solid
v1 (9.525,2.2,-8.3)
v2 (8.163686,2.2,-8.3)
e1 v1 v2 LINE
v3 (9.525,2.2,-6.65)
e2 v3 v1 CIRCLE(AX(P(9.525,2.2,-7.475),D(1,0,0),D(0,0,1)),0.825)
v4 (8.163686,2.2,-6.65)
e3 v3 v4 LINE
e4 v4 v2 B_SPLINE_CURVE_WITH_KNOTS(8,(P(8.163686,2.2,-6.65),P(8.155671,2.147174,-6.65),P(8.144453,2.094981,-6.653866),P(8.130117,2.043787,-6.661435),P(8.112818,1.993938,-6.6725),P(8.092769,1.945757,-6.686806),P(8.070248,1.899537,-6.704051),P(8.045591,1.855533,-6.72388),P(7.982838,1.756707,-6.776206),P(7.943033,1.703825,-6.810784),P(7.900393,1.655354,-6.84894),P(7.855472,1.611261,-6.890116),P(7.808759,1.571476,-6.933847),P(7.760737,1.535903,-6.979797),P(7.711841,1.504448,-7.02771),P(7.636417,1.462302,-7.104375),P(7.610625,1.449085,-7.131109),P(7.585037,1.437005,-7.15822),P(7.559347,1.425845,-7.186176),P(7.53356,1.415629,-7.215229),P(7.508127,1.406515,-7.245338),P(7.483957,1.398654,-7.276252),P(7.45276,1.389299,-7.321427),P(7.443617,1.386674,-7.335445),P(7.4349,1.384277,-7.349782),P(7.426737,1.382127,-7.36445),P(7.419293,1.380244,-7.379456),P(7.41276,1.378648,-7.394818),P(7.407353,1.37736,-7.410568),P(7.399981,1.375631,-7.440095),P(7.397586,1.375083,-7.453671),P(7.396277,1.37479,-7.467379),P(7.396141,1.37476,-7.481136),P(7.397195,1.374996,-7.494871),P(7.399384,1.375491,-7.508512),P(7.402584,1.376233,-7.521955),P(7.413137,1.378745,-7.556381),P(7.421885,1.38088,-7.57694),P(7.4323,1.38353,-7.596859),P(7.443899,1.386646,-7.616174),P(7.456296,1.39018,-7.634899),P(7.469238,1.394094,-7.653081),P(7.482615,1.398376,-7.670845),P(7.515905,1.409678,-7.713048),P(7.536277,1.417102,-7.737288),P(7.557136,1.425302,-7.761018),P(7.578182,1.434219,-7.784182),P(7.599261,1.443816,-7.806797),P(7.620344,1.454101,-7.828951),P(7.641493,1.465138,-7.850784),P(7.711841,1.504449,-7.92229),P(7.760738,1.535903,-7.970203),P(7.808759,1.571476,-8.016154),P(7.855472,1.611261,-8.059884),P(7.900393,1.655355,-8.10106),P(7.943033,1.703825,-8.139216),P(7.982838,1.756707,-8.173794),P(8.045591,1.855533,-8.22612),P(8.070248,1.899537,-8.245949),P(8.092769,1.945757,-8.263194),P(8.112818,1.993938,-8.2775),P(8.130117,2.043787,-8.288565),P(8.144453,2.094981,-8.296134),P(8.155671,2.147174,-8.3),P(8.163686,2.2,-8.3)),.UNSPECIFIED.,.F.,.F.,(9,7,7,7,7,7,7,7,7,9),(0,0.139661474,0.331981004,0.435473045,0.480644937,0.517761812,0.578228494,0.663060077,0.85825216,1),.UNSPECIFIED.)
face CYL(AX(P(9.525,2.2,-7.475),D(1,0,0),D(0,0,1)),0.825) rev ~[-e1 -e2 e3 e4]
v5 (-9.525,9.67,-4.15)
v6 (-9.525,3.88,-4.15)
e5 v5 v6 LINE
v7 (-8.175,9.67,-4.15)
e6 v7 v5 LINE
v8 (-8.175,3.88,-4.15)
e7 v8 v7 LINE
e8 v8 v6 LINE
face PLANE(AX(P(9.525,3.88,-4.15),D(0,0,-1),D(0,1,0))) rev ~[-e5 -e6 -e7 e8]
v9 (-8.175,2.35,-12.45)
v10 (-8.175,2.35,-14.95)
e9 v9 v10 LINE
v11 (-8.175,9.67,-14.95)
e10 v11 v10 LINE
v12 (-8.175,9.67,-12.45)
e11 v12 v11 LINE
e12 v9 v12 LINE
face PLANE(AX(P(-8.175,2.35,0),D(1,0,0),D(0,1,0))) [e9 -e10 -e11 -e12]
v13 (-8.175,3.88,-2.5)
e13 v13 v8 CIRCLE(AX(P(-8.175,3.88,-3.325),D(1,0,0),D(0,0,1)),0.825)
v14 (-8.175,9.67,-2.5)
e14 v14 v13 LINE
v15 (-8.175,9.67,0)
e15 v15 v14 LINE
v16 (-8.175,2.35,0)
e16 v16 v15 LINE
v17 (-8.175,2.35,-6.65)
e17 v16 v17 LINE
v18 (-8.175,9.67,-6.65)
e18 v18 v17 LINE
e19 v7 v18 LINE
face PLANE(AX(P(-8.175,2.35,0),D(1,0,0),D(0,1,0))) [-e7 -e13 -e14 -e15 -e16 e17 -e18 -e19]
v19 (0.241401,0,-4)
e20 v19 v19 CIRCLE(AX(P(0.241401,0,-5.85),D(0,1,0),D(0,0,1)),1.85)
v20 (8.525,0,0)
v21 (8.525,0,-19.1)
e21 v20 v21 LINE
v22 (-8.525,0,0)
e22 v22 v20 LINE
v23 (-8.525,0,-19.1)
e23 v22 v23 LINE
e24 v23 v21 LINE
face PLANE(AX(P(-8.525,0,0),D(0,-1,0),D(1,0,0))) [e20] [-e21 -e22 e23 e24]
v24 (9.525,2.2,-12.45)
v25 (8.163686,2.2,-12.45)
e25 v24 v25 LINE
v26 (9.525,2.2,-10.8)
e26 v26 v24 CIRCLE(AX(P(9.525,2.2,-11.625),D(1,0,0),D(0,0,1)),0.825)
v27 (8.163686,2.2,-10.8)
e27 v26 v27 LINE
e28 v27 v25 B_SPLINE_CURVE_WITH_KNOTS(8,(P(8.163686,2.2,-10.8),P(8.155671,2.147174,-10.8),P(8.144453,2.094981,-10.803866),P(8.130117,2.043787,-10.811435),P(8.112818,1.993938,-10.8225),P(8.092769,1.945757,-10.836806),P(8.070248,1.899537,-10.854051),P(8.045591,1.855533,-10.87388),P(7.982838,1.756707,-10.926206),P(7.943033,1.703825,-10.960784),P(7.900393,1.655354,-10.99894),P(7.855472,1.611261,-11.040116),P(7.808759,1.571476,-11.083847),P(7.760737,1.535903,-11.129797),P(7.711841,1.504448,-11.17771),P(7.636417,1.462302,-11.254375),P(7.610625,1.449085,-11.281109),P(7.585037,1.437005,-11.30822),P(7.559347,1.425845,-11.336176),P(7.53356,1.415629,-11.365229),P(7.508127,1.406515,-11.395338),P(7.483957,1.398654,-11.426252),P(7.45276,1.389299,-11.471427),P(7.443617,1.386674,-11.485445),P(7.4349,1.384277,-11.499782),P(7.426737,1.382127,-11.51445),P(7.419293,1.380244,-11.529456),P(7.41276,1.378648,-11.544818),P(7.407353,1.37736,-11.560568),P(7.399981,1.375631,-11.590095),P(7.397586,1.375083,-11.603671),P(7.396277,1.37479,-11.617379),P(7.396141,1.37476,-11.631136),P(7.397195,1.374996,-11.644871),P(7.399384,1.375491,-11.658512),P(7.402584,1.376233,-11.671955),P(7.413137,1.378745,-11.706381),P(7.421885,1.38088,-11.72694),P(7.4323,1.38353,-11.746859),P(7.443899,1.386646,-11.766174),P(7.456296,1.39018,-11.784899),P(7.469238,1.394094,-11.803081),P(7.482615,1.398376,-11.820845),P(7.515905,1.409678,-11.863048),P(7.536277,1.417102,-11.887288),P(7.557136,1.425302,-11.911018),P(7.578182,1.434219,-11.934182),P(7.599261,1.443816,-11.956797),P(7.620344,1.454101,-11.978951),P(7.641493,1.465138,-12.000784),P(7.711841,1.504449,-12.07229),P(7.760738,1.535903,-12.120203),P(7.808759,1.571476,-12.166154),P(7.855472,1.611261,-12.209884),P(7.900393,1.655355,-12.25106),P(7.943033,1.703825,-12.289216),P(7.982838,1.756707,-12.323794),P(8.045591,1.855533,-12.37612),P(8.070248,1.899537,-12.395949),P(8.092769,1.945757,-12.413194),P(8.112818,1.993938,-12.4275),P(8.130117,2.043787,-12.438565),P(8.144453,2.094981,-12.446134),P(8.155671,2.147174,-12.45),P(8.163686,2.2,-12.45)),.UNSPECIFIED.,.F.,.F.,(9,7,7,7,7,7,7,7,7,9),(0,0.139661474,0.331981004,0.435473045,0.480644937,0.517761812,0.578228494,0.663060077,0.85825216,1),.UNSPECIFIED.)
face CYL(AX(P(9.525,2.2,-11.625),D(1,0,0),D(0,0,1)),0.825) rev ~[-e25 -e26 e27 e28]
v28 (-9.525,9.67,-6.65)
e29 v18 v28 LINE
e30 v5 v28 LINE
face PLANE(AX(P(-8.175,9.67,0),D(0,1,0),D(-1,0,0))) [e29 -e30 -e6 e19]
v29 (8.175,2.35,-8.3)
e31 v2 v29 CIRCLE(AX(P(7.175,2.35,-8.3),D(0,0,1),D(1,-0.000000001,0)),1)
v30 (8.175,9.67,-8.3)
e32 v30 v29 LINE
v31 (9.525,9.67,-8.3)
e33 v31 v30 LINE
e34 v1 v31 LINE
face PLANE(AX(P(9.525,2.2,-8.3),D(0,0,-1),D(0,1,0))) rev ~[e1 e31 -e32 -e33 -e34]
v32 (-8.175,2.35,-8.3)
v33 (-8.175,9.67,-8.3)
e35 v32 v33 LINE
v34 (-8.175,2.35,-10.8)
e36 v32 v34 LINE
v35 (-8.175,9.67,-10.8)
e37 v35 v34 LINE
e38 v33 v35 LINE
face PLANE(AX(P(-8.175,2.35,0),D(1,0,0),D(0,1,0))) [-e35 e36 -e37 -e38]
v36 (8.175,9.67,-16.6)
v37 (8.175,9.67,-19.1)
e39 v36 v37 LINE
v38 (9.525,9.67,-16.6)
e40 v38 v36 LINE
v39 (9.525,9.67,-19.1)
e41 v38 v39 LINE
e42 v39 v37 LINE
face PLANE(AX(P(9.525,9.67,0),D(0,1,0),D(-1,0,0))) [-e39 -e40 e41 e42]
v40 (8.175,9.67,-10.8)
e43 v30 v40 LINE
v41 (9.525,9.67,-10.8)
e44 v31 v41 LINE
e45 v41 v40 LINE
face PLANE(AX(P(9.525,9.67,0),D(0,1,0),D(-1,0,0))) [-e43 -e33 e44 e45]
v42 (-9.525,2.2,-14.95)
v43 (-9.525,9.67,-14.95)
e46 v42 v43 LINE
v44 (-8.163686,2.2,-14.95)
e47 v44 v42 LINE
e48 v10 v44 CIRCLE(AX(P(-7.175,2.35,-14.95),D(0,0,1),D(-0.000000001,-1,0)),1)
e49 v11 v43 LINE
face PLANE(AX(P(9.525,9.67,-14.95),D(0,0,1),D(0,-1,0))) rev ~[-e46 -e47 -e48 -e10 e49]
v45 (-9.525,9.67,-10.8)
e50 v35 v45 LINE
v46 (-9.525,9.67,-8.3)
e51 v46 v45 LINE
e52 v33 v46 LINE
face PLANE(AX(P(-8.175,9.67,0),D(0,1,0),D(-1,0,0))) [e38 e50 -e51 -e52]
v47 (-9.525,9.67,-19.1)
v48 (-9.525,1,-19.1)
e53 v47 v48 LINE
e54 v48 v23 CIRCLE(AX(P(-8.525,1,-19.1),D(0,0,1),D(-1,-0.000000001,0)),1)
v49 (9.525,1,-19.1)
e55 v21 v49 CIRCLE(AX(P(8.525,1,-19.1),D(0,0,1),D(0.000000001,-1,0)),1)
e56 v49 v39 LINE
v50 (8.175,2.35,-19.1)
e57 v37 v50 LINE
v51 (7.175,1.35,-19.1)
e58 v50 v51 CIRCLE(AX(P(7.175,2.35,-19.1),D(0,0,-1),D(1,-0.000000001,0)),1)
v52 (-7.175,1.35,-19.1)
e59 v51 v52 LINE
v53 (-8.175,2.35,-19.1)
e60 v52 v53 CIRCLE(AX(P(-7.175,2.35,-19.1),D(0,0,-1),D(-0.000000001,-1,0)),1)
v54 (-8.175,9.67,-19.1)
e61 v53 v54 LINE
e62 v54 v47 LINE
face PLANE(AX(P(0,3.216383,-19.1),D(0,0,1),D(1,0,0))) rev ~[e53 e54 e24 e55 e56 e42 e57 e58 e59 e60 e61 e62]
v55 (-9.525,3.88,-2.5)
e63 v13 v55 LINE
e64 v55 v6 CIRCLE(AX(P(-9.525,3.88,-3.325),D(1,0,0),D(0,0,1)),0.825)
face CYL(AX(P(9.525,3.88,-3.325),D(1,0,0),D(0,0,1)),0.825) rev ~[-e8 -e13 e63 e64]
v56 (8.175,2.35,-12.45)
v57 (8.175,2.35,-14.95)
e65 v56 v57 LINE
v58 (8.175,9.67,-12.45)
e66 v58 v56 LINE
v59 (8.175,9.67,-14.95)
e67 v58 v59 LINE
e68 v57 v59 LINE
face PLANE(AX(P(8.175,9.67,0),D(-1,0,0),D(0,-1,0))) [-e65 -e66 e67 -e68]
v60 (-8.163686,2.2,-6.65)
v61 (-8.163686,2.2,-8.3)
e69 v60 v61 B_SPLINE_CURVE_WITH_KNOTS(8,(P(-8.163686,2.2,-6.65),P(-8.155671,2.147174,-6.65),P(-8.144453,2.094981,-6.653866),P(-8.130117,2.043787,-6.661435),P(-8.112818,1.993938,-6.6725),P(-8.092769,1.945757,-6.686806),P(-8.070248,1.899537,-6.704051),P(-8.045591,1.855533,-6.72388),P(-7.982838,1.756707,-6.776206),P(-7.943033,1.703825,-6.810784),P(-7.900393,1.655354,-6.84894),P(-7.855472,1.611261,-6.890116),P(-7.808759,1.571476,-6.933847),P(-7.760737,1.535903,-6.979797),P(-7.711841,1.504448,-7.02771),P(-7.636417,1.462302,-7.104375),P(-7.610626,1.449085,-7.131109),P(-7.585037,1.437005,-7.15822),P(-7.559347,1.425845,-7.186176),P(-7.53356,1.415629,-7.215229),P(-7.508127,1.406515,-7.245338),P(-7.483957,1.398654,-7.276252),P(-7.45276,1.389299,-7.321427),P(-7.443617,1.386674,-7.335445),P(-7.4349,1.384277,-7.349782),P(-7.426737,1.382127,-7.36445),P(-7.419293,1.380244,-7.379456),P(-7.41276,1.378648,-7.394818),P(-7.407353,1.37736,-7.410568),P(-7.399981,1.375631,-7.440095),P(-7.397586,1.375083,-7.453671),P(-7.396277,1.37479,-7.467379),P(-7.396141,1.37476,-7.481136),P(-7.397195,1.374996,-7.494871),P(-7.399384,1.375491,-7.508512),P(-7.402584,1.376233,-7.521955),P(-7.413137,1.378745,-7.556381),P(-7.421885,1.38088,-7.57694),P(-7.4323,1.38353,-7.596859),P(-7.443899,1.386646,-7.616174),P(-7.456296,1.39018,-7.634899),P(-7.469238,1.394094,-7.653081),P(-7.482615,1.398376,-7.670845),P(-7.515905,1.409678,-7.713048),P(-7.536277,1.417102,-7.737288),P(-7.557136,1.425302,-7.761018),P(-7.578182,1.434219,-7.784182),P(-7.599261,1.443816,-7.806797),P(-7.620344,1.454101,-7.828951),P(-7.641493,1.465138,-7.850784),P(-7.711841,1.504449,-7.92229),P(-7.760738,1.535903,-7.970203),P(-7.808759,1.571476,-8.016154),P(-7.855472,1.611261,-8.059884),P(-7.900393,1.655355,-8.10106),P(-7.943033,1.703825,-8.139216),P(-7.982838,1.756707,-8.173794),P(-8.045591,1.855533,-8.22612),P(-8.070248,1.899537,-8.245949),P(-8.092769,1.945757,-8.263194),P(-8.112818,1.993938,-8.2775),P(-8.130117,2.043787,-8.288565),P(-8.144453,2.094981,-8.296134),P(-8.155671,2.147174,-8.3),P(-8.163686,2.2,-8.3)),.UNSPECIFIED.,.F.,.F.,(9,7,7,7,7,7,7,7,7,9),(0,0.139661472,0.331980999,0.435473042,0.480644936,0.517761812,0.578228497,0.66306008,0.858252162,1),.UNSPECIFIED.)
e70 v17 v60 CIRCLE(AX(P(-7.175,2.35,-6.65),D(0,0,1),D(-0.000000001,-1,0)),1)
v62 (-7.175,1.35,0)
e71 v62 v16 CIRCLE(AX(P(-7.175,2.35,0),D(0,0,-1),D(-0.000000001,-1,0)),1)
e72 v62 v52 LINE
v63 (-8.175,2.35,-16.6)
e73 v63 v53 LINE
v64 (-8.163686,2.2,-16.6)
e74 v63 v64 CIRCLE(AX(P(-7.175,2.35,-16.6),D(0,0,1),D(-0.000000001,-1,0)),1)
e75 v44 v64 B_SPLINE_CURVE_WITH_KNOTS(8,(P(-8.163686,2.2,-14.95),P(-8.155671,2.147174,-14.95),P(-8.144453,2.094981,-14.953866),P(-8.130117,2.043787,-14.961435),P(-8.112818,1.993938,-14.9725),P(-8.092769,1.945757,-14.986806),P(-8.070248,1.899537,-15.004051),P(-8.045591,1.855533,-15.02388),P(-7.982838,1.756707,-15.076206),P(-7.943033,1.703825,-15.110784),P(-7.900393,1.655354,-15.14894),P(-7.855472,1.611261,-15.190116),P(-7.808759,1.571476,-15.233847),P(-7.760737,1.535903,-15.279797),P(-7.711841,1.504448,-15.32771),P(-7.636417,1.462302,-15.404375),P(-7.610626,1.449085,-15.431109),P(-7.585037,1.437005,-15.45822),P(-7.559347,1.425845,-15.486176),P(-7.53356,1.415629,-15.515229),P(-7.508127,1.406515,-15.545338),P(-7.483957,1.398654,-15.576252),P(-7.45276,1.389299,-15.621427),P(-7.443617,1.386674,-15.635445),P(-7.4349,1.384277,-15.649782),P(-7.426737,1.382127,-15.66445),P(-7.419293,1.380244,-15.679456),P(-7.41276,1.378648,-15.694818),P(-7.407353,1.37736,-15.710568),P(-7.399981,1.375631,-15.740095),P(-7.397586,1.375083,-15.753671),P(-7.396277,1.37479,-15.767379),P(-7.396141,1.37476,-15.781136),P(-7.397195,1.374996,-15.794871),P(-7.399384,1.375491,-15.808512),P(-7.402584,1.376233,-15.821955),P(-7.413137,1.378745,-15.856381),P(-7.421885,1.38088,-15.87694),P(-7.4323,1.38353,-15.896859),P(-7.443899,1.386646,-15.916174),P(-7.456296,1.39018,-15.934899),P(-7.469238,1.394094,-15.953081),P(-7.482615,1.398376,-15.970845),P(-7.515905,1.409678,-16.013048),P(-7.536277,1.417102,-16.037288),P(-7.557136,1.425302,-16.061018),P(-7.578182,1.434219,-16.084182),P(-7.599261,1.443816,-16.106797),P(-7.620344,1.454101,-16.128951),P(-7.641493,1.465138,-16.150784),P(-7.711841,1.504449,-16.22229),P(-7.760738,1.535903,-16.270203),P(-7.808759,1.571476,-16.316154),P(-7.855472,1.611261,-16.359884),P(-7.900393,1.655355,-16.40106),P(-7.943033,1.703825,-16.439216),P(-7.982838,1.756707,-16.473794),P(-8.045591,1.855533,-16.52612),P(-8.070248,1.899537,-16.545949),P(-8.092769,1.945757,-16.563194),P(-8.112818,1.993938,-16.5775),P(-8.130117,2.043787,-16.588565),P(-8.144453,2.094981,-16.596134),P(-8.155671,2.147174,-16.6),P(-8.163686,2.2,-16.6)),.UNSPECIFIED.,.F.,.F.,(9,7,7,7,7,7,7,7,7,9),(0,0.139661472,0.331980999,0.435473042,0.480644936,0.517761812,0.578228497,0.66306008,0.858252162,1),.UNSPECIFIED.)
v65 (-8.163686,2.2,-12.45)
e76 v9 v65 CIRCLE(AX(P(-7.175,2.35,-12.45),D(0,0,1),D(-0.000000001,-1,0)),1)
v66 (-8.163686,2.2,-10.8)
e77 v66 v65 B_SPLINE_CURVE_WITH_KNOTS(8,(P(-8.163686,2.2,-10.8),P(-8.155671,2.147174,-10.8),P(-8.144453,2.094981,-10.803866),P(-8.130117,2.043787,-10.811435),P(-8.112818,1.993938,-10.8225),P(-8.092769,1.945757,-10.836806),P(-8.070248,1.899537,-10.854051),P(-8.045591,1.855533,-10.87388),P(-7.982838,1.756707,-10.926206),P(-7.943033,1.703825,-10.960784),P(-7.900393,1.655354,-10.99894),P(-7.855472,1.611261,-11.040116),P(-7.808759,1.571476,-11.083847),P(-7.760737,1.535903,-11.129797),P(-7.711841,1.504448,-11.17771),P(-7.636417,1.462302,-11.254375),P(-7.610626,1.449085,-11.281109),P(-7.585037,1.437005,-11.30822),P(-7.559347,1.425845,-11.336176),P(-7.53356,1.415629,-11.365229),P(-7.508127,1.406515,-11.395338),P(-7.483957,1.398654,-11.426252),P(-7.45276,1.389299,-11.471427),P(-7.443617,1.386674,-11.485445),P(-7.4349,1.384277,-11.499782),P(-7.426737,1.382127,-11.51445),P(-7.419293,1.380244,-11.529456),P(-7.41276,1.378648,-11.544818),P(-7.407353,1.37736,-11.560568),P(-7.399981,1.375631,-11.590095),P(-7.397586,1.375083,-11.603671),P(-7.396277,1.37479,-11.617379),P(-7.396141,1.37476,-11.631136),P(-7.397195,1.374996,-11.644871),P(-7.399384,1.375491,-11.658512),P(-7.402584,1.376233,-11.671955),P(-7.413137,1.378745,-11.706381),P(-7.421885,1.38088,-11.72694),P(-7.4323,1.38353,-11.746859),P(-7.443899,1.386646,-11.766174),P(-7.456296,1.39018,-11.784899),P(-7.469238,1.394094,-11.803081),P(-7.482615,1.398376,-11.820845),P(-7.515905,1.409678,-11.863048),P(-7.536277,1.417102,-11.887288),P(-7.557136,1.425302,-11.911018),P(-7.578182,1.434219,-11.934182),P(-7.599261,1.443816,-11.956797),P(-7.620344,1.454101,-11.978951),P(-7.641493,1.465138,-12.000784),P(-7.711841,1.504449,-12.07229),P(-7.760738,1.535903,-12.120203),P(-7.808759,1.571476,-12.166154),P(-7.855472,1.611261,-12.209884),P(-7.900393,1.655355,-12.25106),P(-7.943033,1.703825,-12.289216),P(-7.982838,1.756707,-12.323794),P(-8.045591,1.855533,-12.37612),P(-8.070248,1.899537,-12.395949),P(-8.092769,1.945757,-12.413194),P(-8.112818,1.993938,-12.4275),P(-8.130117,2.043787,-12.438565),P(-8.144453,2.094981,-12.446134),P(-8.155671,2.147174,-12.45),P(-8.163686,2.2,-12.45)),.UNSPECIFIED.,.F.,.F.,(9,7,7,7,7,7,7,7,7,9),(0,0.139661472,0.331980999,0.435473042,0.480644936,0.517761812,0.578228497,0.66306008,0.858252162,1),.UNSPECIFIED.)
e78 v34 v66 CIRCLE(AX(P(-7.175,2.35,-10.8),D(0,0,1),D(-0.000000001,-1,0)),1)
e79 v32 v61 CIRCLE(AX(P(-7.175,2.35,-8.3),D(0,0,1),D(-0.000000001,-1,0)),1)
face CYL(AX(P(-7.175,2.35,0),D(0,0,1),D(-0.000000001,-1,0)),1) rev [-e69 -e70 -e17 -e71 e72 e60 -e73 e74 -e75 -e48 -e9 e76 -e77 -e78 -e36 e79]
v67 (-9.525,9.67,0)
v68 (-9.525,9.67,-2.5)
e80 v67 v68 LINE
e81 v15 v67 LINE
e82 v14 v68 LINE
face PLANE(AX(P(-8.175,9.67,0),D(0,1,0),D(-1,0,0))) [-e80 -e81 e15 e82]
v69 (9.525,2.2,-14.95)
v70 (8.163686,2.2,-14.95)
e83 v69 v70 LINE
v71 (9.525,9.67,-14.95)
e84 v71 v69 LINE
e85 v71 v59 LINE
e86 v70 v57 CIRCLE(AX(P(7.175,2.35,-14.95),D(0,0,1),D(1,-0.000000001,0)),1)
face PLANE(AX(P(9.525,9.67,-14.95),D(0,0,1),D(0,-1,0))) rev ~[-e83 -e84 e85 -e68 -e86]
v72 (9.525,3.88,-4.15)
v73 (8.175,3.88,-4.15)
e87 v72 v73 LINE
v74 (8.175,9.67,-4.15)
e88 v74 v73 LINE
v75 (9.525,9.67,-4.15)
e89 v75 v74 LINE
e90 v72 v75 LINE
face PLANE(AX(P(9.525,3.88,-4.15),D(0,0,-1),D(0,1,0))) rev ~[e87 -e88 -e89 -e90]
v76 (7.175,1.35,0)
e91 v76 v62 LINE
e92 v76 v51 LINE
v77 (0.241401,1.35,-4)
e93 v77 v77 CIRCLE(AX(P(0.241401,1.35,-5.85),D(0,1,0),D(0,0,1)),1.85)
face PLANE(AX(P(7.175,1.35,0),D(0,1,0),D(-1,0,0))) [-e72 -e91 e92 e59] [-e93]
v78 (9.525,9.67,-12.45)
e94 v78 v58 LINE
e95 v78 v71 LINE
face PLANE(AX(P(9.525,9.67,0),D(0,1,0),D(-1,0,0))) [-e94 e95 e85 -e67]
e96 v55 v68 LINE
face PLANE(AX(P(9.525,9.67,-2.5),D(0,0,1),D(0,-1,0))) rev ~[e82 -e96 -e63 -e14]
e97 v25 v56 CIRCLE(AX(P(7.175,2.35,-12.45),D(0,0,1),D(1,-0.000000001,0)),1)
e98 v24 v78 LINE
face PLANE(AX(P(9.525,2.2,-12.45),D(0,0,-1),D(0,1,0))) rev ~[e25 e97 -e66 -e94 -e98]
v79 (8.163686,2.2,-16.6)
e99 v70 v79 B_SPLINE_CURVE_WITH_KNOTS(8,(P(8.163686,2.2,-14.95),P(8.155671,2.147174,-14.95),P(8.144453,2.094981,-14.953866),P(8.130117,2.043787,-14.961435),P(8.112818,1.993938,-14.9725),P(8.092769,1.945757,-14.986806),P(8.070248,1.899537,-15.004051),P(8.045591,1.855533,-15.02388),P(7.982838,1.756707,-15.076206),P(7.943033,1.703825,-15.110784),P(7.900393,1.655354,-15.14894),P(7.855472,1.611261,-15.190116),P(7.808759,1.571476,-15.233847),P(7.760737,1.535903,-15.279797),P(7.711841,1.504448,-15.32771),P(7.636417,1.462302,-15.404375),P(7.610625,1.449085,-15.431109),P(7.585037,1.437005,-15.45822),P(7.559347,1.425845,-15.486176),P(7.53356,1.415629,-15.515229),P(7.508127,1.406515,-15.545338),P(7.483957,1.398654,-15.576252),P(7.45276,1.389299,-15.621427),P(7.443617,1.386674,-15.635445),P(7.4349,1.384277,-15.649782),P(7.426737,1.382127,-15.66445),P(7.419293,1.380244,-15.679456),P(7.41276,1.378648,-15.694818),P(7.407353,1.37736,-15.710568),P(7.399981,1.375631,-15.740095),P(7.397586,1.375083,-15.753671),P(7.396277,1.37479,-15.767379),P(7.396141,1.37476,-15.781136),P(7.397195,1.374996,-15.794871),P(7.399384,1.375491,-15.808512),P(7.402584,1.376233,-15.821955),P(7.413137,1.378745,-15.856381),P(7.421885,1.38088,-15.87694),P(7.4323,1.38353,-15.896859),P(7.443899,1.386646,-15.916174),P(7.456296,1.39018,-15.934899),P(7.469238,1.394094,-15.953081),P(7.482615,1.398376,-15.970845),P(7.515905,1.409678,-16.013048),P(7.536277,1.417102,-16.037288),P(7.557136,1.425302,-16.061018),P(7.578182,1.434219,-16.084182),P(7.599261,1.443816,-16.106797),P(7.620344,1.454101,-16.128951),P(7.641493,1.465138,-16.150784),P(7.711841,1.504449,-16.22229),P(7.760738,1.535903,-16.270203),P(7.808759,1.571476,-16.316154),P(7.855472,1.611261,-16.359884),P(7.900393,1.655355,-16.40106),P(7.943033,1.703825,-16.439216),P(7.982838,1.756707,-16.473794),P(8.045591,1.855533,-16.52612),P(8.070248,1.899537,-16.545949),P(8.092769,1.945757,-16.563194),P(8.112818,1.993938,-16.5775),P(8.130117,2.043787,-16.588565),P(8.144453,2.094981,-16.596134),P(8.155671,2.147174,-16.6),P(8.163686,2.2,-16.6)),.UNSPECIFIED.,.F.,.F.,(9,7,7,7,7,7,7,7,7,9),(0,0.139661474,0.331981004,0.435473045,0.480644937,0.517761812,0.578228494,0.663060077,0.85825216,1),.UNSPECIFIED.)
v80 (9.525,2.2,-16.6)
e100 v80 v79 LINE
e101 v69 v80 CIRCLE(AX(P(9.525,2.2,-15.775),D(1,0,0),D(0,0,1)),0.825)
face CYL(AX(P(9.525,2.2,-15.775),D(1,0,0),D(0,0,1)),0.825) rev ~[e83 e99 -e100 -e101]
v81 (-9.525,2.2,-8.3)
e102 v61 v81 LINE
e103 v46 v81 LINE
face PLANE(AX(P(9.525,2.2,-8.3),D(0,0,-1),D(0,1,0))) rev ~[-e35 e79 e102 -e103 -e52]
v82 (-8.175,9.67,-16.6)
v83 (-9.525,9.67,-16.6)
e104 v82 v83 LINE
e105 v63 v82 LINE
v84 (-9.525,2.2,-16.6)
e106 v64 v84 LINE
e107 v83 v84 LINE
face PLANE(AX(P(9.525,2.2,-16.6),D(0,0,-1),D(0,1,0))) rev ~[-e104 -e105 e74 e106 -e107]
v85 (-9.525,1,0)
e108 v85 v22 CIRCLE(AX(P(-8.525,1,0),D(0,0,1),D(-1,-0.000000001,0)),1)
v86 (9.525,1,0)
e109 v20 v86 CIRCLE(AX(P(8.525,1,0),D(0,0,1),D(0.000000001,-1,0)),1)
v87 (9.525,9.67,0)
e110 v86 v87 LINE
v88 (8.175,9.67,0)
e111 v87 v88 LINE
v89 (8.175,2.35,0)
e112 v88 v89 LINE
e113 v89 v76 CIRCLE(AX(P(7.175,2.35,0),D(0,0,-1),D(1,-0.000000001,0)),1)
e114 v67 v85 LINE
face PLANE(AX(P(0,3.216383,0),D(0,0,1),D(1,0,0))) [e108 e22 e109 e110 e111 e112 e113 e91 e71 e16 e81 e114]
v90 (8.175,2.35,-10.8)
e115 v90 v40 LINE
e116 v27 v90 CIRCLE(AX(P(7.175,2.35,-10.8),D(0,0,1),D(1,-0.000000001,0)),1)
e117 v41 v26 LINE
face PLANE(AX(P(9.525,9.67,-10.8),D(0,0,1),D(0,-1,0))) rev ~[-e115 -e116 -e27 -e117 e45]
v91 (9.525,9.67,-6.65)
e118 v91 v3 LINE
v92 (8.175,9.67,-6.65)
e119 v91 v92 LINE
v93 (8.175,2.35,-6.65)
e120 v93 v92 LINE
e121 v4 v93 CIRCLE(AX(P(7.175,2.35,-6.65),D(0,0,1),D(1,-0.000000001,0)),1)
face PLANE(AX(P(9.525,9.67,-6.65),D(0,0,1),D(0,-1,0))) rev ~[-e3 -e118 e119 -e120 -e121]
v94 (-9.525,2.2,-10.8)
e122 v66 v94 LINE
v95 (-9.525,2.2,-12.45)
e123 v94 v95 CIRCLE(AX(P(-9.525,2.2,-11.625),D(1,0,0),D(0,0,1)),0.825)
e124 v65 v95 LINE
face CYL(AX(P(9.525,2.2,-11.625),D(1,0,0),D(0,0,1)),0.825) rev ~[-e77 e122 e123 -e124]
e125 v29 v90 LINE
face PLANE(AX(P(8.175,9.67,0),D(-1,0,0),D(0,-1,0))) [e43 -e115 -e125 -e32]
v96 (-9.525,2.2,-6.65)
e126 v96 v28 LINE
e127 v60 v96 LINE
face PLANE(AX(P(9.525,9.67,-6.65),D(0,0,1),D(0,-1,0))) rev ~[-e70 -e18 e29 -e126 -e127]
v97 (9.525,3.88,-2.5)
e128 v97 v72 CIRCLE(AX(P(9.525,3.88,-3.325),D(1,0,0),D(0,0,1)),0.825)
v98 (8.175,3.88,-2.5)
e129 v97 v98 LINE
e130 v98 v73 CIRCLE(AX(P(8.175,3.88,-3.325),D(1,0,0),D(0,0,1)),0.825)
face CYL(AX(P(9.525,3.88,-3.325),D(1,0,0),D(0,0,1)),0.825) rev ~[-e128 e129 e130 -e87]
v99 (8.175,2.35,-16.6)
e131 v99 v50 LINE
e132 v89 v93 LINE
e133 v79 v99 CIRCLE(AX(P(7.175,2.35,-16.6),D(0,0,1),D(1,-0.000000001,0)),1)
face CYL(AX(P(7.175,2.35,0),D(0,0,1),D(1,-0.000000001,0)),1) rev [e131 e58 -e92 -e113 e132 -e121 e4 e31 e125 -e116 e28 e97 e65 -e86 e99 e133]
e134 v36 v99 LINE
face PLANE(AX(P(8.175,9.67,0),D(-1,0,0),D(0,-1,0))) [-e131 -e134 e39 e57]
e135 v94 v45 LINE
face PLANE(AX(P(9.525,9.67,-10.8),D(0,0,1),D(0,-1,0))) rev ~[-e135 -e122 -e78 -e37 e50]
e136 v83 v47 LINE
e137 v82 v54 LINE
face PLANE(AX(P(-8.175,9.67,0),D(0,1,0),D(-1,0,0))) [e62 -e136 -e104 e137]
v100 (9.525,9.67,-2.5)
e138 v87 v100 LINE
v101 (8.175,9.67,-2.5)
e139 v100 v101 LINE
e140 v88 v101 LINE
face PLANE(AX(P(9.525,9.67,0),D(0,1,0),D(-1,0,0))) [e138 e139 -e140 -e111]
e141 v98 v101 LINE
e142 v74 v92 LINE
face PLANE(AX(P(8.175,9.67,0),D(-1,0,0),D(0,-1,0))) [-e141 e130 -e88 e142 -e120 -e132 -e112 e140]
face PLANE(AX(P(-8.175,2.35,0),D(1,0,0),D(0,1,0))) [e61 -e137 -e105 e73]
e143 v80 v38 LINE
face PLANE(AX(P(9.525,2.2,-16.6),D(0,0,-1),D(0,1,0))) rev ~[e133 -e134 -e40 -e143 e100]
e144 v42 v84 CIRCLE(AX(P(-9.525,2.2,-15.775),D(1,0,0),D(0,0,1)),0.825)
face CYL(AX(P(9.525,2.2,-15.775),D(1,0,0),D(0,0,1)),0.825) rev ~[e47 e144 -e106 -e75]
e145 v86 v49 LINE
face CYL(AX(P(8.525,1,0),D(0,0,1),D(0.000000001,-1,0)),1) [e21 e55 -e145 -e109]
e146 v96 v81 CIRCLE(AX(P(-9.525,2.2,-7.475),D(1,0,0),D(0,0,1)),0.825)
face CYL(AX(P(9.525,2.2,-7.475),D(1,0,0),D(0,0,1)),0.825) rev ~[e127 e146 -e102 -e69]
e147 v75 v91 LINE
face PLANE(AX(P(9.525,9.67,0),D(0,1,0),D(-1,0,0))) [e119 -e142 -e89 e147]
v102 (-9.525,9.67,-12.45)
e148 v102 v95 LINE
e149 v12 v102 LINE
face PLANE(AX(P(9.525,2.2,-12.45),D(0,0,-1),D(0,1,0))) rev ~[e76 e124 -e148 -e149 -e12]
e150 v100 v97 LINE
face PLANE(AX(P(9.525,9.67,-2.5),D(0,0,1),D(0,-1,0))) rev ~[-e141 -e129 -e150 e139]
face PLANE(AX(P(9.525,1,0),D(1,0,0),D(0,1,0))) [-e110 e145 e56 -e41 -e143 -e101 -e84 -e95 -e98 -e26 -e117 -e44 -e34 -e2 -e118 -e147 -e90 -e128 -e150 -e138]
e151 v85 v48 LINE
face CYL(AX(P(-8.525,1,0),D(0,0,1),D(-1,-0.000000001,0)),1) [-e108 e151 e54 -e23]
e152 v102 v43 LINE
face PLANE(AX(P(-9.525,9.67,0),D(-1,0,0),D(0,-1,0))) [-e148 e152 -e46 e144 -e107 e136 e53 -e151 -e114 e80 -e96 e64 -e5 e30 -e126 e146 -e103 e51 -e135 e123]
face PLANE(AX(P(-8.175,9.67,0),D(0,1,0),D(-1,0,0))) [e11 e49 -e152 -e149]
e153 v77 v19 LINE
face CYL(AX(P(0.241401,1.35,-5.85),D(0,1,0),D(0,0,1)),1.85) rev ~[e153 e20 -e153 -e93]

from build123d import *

# Parameters (mm, degrees)
BOSS_EXTRUDE3_DEPTH = 19.1
CUT_EXTRUDE2_REACH  = 24.908
SKETCH3_R           = 1.85
CUT_EXTRUDE3_DEPTH  = 29.65696076


with BuildPart() as part:
    # Sketch1 → Boss-Extrude3 (new body)
    with BuildSketch(Plane.XY):
        with BuildLine():
            Line((-8.525, 0), (8.525, 0))
            ThreePointArc((8.525, 0), (9.232106781, 0.292893219), (9.525, 1))
            Line((9.525, 1), (9.525, 9.67))
            Line((9.525, 9.67), (8.175, 9.67))
            Line((8.175, 9.67), (8.175, 2.35))
            ThreePointArc((8.175, 2.35), (7.882106781, 1.642893219), (7.175, 1.35))
            Line((7.175, 1.35), (-7.175, 1.35))
            ThreePointArc((-7.175, 1.35), (-7.882106781, 1.642893219), (-8.175, 2.35))
            Line((-8.175, 2.35), (-8.175, 9.67))
            Line((-8.175, 9.67), (-9.525, 9.67))
            Line((-9.525, 9.67), (-9.525, 1))
            ThreePointArc((-9.525, 1), (-9.232106781, 0.292893219), (-8.525, 0))
        make_face()
    extrude(amount=-BOSS_EXTRUDE3_DEPTH)

    # Sketch3 → Cut-Extrude2 (cut, up to next)
    with BuildSketch(Plane(origin=(0, 1.35, 0), x_dir=(1, 0, 0), z_dir=(0, 1, 0)), mode=Mode.PRIVATE) as cut_extrude2_sk1:
        with Locations(Location((0.241401012, 5.85, 0), (0, 0, 270))):
            Circle(SKETCH3_R)
    cut_extrude2_tool1 = extrude(cut_extrude2_sk1.sketch, amount=-CUT_EXTRUDE2_REACH, mode=Mode.PRIVATE) & part.part
    add(cut_extrude2_tool1.solids().sort_by_distance((0.241401, 1.35, -5.85))[0], mode=Mode.SUBTRACT)

    # Sketch4 → Cut-Extrude3 (cut, through all)
    with BuildSketch(Plane(origin=(9.525, 0, 0), x_dir=(0, 0, -1), z_dir=(1, 0, 0))):
        with BuildLine():
            Line((2.5, 9.67), (2.5, 3.88))
            ThreePointArc((2.5, 3.88), (3.325, 3.055), (4.15, 3.88))
            Line((4.15, 3.88), (4.15, 9.67))
            Line((4.15, 9.67), (2.5, 9.67))
        make_face()
        with BuildLine():
            Line((6.65, 9.67), (6.65, 2.2))
            ThreePointArc((6.65, 2.2), (7.475, 1.375), (8.3, 2.2))
            Line((8.3, 2.2), (8.3, 9.67))
            Line((8.3, 9.67), (6.65, 9.67))
        make_face()
        with BuildLine():
            Line((10.8, 9.67), (10.8, 2.2))
            ThreePointArc((10.8, 2.2), (11.625, 1.375), (12.45, 2.2))
            Line((12.45, 2.2), (12.45, 9.67))
            Line((12.45, 9.67), (10.8, 9.67))
        make_face()
        with BuildLine():
            Line((14.95, 9.67), (14.95, 2.2))
            ThreePointArc((14.95, 2.2), (15.775, 1.375), (16.6, 2.2))
            Line((16.6, 2.2), (16.6, 9.67))
            Line((16.6, 9.67), (14.95, 9.67))
        make_face()
    extrude(amount=-CUT_EXTRUDE3_DEPTH, mode=Mode.SUBTRACT)


solid = part.part
